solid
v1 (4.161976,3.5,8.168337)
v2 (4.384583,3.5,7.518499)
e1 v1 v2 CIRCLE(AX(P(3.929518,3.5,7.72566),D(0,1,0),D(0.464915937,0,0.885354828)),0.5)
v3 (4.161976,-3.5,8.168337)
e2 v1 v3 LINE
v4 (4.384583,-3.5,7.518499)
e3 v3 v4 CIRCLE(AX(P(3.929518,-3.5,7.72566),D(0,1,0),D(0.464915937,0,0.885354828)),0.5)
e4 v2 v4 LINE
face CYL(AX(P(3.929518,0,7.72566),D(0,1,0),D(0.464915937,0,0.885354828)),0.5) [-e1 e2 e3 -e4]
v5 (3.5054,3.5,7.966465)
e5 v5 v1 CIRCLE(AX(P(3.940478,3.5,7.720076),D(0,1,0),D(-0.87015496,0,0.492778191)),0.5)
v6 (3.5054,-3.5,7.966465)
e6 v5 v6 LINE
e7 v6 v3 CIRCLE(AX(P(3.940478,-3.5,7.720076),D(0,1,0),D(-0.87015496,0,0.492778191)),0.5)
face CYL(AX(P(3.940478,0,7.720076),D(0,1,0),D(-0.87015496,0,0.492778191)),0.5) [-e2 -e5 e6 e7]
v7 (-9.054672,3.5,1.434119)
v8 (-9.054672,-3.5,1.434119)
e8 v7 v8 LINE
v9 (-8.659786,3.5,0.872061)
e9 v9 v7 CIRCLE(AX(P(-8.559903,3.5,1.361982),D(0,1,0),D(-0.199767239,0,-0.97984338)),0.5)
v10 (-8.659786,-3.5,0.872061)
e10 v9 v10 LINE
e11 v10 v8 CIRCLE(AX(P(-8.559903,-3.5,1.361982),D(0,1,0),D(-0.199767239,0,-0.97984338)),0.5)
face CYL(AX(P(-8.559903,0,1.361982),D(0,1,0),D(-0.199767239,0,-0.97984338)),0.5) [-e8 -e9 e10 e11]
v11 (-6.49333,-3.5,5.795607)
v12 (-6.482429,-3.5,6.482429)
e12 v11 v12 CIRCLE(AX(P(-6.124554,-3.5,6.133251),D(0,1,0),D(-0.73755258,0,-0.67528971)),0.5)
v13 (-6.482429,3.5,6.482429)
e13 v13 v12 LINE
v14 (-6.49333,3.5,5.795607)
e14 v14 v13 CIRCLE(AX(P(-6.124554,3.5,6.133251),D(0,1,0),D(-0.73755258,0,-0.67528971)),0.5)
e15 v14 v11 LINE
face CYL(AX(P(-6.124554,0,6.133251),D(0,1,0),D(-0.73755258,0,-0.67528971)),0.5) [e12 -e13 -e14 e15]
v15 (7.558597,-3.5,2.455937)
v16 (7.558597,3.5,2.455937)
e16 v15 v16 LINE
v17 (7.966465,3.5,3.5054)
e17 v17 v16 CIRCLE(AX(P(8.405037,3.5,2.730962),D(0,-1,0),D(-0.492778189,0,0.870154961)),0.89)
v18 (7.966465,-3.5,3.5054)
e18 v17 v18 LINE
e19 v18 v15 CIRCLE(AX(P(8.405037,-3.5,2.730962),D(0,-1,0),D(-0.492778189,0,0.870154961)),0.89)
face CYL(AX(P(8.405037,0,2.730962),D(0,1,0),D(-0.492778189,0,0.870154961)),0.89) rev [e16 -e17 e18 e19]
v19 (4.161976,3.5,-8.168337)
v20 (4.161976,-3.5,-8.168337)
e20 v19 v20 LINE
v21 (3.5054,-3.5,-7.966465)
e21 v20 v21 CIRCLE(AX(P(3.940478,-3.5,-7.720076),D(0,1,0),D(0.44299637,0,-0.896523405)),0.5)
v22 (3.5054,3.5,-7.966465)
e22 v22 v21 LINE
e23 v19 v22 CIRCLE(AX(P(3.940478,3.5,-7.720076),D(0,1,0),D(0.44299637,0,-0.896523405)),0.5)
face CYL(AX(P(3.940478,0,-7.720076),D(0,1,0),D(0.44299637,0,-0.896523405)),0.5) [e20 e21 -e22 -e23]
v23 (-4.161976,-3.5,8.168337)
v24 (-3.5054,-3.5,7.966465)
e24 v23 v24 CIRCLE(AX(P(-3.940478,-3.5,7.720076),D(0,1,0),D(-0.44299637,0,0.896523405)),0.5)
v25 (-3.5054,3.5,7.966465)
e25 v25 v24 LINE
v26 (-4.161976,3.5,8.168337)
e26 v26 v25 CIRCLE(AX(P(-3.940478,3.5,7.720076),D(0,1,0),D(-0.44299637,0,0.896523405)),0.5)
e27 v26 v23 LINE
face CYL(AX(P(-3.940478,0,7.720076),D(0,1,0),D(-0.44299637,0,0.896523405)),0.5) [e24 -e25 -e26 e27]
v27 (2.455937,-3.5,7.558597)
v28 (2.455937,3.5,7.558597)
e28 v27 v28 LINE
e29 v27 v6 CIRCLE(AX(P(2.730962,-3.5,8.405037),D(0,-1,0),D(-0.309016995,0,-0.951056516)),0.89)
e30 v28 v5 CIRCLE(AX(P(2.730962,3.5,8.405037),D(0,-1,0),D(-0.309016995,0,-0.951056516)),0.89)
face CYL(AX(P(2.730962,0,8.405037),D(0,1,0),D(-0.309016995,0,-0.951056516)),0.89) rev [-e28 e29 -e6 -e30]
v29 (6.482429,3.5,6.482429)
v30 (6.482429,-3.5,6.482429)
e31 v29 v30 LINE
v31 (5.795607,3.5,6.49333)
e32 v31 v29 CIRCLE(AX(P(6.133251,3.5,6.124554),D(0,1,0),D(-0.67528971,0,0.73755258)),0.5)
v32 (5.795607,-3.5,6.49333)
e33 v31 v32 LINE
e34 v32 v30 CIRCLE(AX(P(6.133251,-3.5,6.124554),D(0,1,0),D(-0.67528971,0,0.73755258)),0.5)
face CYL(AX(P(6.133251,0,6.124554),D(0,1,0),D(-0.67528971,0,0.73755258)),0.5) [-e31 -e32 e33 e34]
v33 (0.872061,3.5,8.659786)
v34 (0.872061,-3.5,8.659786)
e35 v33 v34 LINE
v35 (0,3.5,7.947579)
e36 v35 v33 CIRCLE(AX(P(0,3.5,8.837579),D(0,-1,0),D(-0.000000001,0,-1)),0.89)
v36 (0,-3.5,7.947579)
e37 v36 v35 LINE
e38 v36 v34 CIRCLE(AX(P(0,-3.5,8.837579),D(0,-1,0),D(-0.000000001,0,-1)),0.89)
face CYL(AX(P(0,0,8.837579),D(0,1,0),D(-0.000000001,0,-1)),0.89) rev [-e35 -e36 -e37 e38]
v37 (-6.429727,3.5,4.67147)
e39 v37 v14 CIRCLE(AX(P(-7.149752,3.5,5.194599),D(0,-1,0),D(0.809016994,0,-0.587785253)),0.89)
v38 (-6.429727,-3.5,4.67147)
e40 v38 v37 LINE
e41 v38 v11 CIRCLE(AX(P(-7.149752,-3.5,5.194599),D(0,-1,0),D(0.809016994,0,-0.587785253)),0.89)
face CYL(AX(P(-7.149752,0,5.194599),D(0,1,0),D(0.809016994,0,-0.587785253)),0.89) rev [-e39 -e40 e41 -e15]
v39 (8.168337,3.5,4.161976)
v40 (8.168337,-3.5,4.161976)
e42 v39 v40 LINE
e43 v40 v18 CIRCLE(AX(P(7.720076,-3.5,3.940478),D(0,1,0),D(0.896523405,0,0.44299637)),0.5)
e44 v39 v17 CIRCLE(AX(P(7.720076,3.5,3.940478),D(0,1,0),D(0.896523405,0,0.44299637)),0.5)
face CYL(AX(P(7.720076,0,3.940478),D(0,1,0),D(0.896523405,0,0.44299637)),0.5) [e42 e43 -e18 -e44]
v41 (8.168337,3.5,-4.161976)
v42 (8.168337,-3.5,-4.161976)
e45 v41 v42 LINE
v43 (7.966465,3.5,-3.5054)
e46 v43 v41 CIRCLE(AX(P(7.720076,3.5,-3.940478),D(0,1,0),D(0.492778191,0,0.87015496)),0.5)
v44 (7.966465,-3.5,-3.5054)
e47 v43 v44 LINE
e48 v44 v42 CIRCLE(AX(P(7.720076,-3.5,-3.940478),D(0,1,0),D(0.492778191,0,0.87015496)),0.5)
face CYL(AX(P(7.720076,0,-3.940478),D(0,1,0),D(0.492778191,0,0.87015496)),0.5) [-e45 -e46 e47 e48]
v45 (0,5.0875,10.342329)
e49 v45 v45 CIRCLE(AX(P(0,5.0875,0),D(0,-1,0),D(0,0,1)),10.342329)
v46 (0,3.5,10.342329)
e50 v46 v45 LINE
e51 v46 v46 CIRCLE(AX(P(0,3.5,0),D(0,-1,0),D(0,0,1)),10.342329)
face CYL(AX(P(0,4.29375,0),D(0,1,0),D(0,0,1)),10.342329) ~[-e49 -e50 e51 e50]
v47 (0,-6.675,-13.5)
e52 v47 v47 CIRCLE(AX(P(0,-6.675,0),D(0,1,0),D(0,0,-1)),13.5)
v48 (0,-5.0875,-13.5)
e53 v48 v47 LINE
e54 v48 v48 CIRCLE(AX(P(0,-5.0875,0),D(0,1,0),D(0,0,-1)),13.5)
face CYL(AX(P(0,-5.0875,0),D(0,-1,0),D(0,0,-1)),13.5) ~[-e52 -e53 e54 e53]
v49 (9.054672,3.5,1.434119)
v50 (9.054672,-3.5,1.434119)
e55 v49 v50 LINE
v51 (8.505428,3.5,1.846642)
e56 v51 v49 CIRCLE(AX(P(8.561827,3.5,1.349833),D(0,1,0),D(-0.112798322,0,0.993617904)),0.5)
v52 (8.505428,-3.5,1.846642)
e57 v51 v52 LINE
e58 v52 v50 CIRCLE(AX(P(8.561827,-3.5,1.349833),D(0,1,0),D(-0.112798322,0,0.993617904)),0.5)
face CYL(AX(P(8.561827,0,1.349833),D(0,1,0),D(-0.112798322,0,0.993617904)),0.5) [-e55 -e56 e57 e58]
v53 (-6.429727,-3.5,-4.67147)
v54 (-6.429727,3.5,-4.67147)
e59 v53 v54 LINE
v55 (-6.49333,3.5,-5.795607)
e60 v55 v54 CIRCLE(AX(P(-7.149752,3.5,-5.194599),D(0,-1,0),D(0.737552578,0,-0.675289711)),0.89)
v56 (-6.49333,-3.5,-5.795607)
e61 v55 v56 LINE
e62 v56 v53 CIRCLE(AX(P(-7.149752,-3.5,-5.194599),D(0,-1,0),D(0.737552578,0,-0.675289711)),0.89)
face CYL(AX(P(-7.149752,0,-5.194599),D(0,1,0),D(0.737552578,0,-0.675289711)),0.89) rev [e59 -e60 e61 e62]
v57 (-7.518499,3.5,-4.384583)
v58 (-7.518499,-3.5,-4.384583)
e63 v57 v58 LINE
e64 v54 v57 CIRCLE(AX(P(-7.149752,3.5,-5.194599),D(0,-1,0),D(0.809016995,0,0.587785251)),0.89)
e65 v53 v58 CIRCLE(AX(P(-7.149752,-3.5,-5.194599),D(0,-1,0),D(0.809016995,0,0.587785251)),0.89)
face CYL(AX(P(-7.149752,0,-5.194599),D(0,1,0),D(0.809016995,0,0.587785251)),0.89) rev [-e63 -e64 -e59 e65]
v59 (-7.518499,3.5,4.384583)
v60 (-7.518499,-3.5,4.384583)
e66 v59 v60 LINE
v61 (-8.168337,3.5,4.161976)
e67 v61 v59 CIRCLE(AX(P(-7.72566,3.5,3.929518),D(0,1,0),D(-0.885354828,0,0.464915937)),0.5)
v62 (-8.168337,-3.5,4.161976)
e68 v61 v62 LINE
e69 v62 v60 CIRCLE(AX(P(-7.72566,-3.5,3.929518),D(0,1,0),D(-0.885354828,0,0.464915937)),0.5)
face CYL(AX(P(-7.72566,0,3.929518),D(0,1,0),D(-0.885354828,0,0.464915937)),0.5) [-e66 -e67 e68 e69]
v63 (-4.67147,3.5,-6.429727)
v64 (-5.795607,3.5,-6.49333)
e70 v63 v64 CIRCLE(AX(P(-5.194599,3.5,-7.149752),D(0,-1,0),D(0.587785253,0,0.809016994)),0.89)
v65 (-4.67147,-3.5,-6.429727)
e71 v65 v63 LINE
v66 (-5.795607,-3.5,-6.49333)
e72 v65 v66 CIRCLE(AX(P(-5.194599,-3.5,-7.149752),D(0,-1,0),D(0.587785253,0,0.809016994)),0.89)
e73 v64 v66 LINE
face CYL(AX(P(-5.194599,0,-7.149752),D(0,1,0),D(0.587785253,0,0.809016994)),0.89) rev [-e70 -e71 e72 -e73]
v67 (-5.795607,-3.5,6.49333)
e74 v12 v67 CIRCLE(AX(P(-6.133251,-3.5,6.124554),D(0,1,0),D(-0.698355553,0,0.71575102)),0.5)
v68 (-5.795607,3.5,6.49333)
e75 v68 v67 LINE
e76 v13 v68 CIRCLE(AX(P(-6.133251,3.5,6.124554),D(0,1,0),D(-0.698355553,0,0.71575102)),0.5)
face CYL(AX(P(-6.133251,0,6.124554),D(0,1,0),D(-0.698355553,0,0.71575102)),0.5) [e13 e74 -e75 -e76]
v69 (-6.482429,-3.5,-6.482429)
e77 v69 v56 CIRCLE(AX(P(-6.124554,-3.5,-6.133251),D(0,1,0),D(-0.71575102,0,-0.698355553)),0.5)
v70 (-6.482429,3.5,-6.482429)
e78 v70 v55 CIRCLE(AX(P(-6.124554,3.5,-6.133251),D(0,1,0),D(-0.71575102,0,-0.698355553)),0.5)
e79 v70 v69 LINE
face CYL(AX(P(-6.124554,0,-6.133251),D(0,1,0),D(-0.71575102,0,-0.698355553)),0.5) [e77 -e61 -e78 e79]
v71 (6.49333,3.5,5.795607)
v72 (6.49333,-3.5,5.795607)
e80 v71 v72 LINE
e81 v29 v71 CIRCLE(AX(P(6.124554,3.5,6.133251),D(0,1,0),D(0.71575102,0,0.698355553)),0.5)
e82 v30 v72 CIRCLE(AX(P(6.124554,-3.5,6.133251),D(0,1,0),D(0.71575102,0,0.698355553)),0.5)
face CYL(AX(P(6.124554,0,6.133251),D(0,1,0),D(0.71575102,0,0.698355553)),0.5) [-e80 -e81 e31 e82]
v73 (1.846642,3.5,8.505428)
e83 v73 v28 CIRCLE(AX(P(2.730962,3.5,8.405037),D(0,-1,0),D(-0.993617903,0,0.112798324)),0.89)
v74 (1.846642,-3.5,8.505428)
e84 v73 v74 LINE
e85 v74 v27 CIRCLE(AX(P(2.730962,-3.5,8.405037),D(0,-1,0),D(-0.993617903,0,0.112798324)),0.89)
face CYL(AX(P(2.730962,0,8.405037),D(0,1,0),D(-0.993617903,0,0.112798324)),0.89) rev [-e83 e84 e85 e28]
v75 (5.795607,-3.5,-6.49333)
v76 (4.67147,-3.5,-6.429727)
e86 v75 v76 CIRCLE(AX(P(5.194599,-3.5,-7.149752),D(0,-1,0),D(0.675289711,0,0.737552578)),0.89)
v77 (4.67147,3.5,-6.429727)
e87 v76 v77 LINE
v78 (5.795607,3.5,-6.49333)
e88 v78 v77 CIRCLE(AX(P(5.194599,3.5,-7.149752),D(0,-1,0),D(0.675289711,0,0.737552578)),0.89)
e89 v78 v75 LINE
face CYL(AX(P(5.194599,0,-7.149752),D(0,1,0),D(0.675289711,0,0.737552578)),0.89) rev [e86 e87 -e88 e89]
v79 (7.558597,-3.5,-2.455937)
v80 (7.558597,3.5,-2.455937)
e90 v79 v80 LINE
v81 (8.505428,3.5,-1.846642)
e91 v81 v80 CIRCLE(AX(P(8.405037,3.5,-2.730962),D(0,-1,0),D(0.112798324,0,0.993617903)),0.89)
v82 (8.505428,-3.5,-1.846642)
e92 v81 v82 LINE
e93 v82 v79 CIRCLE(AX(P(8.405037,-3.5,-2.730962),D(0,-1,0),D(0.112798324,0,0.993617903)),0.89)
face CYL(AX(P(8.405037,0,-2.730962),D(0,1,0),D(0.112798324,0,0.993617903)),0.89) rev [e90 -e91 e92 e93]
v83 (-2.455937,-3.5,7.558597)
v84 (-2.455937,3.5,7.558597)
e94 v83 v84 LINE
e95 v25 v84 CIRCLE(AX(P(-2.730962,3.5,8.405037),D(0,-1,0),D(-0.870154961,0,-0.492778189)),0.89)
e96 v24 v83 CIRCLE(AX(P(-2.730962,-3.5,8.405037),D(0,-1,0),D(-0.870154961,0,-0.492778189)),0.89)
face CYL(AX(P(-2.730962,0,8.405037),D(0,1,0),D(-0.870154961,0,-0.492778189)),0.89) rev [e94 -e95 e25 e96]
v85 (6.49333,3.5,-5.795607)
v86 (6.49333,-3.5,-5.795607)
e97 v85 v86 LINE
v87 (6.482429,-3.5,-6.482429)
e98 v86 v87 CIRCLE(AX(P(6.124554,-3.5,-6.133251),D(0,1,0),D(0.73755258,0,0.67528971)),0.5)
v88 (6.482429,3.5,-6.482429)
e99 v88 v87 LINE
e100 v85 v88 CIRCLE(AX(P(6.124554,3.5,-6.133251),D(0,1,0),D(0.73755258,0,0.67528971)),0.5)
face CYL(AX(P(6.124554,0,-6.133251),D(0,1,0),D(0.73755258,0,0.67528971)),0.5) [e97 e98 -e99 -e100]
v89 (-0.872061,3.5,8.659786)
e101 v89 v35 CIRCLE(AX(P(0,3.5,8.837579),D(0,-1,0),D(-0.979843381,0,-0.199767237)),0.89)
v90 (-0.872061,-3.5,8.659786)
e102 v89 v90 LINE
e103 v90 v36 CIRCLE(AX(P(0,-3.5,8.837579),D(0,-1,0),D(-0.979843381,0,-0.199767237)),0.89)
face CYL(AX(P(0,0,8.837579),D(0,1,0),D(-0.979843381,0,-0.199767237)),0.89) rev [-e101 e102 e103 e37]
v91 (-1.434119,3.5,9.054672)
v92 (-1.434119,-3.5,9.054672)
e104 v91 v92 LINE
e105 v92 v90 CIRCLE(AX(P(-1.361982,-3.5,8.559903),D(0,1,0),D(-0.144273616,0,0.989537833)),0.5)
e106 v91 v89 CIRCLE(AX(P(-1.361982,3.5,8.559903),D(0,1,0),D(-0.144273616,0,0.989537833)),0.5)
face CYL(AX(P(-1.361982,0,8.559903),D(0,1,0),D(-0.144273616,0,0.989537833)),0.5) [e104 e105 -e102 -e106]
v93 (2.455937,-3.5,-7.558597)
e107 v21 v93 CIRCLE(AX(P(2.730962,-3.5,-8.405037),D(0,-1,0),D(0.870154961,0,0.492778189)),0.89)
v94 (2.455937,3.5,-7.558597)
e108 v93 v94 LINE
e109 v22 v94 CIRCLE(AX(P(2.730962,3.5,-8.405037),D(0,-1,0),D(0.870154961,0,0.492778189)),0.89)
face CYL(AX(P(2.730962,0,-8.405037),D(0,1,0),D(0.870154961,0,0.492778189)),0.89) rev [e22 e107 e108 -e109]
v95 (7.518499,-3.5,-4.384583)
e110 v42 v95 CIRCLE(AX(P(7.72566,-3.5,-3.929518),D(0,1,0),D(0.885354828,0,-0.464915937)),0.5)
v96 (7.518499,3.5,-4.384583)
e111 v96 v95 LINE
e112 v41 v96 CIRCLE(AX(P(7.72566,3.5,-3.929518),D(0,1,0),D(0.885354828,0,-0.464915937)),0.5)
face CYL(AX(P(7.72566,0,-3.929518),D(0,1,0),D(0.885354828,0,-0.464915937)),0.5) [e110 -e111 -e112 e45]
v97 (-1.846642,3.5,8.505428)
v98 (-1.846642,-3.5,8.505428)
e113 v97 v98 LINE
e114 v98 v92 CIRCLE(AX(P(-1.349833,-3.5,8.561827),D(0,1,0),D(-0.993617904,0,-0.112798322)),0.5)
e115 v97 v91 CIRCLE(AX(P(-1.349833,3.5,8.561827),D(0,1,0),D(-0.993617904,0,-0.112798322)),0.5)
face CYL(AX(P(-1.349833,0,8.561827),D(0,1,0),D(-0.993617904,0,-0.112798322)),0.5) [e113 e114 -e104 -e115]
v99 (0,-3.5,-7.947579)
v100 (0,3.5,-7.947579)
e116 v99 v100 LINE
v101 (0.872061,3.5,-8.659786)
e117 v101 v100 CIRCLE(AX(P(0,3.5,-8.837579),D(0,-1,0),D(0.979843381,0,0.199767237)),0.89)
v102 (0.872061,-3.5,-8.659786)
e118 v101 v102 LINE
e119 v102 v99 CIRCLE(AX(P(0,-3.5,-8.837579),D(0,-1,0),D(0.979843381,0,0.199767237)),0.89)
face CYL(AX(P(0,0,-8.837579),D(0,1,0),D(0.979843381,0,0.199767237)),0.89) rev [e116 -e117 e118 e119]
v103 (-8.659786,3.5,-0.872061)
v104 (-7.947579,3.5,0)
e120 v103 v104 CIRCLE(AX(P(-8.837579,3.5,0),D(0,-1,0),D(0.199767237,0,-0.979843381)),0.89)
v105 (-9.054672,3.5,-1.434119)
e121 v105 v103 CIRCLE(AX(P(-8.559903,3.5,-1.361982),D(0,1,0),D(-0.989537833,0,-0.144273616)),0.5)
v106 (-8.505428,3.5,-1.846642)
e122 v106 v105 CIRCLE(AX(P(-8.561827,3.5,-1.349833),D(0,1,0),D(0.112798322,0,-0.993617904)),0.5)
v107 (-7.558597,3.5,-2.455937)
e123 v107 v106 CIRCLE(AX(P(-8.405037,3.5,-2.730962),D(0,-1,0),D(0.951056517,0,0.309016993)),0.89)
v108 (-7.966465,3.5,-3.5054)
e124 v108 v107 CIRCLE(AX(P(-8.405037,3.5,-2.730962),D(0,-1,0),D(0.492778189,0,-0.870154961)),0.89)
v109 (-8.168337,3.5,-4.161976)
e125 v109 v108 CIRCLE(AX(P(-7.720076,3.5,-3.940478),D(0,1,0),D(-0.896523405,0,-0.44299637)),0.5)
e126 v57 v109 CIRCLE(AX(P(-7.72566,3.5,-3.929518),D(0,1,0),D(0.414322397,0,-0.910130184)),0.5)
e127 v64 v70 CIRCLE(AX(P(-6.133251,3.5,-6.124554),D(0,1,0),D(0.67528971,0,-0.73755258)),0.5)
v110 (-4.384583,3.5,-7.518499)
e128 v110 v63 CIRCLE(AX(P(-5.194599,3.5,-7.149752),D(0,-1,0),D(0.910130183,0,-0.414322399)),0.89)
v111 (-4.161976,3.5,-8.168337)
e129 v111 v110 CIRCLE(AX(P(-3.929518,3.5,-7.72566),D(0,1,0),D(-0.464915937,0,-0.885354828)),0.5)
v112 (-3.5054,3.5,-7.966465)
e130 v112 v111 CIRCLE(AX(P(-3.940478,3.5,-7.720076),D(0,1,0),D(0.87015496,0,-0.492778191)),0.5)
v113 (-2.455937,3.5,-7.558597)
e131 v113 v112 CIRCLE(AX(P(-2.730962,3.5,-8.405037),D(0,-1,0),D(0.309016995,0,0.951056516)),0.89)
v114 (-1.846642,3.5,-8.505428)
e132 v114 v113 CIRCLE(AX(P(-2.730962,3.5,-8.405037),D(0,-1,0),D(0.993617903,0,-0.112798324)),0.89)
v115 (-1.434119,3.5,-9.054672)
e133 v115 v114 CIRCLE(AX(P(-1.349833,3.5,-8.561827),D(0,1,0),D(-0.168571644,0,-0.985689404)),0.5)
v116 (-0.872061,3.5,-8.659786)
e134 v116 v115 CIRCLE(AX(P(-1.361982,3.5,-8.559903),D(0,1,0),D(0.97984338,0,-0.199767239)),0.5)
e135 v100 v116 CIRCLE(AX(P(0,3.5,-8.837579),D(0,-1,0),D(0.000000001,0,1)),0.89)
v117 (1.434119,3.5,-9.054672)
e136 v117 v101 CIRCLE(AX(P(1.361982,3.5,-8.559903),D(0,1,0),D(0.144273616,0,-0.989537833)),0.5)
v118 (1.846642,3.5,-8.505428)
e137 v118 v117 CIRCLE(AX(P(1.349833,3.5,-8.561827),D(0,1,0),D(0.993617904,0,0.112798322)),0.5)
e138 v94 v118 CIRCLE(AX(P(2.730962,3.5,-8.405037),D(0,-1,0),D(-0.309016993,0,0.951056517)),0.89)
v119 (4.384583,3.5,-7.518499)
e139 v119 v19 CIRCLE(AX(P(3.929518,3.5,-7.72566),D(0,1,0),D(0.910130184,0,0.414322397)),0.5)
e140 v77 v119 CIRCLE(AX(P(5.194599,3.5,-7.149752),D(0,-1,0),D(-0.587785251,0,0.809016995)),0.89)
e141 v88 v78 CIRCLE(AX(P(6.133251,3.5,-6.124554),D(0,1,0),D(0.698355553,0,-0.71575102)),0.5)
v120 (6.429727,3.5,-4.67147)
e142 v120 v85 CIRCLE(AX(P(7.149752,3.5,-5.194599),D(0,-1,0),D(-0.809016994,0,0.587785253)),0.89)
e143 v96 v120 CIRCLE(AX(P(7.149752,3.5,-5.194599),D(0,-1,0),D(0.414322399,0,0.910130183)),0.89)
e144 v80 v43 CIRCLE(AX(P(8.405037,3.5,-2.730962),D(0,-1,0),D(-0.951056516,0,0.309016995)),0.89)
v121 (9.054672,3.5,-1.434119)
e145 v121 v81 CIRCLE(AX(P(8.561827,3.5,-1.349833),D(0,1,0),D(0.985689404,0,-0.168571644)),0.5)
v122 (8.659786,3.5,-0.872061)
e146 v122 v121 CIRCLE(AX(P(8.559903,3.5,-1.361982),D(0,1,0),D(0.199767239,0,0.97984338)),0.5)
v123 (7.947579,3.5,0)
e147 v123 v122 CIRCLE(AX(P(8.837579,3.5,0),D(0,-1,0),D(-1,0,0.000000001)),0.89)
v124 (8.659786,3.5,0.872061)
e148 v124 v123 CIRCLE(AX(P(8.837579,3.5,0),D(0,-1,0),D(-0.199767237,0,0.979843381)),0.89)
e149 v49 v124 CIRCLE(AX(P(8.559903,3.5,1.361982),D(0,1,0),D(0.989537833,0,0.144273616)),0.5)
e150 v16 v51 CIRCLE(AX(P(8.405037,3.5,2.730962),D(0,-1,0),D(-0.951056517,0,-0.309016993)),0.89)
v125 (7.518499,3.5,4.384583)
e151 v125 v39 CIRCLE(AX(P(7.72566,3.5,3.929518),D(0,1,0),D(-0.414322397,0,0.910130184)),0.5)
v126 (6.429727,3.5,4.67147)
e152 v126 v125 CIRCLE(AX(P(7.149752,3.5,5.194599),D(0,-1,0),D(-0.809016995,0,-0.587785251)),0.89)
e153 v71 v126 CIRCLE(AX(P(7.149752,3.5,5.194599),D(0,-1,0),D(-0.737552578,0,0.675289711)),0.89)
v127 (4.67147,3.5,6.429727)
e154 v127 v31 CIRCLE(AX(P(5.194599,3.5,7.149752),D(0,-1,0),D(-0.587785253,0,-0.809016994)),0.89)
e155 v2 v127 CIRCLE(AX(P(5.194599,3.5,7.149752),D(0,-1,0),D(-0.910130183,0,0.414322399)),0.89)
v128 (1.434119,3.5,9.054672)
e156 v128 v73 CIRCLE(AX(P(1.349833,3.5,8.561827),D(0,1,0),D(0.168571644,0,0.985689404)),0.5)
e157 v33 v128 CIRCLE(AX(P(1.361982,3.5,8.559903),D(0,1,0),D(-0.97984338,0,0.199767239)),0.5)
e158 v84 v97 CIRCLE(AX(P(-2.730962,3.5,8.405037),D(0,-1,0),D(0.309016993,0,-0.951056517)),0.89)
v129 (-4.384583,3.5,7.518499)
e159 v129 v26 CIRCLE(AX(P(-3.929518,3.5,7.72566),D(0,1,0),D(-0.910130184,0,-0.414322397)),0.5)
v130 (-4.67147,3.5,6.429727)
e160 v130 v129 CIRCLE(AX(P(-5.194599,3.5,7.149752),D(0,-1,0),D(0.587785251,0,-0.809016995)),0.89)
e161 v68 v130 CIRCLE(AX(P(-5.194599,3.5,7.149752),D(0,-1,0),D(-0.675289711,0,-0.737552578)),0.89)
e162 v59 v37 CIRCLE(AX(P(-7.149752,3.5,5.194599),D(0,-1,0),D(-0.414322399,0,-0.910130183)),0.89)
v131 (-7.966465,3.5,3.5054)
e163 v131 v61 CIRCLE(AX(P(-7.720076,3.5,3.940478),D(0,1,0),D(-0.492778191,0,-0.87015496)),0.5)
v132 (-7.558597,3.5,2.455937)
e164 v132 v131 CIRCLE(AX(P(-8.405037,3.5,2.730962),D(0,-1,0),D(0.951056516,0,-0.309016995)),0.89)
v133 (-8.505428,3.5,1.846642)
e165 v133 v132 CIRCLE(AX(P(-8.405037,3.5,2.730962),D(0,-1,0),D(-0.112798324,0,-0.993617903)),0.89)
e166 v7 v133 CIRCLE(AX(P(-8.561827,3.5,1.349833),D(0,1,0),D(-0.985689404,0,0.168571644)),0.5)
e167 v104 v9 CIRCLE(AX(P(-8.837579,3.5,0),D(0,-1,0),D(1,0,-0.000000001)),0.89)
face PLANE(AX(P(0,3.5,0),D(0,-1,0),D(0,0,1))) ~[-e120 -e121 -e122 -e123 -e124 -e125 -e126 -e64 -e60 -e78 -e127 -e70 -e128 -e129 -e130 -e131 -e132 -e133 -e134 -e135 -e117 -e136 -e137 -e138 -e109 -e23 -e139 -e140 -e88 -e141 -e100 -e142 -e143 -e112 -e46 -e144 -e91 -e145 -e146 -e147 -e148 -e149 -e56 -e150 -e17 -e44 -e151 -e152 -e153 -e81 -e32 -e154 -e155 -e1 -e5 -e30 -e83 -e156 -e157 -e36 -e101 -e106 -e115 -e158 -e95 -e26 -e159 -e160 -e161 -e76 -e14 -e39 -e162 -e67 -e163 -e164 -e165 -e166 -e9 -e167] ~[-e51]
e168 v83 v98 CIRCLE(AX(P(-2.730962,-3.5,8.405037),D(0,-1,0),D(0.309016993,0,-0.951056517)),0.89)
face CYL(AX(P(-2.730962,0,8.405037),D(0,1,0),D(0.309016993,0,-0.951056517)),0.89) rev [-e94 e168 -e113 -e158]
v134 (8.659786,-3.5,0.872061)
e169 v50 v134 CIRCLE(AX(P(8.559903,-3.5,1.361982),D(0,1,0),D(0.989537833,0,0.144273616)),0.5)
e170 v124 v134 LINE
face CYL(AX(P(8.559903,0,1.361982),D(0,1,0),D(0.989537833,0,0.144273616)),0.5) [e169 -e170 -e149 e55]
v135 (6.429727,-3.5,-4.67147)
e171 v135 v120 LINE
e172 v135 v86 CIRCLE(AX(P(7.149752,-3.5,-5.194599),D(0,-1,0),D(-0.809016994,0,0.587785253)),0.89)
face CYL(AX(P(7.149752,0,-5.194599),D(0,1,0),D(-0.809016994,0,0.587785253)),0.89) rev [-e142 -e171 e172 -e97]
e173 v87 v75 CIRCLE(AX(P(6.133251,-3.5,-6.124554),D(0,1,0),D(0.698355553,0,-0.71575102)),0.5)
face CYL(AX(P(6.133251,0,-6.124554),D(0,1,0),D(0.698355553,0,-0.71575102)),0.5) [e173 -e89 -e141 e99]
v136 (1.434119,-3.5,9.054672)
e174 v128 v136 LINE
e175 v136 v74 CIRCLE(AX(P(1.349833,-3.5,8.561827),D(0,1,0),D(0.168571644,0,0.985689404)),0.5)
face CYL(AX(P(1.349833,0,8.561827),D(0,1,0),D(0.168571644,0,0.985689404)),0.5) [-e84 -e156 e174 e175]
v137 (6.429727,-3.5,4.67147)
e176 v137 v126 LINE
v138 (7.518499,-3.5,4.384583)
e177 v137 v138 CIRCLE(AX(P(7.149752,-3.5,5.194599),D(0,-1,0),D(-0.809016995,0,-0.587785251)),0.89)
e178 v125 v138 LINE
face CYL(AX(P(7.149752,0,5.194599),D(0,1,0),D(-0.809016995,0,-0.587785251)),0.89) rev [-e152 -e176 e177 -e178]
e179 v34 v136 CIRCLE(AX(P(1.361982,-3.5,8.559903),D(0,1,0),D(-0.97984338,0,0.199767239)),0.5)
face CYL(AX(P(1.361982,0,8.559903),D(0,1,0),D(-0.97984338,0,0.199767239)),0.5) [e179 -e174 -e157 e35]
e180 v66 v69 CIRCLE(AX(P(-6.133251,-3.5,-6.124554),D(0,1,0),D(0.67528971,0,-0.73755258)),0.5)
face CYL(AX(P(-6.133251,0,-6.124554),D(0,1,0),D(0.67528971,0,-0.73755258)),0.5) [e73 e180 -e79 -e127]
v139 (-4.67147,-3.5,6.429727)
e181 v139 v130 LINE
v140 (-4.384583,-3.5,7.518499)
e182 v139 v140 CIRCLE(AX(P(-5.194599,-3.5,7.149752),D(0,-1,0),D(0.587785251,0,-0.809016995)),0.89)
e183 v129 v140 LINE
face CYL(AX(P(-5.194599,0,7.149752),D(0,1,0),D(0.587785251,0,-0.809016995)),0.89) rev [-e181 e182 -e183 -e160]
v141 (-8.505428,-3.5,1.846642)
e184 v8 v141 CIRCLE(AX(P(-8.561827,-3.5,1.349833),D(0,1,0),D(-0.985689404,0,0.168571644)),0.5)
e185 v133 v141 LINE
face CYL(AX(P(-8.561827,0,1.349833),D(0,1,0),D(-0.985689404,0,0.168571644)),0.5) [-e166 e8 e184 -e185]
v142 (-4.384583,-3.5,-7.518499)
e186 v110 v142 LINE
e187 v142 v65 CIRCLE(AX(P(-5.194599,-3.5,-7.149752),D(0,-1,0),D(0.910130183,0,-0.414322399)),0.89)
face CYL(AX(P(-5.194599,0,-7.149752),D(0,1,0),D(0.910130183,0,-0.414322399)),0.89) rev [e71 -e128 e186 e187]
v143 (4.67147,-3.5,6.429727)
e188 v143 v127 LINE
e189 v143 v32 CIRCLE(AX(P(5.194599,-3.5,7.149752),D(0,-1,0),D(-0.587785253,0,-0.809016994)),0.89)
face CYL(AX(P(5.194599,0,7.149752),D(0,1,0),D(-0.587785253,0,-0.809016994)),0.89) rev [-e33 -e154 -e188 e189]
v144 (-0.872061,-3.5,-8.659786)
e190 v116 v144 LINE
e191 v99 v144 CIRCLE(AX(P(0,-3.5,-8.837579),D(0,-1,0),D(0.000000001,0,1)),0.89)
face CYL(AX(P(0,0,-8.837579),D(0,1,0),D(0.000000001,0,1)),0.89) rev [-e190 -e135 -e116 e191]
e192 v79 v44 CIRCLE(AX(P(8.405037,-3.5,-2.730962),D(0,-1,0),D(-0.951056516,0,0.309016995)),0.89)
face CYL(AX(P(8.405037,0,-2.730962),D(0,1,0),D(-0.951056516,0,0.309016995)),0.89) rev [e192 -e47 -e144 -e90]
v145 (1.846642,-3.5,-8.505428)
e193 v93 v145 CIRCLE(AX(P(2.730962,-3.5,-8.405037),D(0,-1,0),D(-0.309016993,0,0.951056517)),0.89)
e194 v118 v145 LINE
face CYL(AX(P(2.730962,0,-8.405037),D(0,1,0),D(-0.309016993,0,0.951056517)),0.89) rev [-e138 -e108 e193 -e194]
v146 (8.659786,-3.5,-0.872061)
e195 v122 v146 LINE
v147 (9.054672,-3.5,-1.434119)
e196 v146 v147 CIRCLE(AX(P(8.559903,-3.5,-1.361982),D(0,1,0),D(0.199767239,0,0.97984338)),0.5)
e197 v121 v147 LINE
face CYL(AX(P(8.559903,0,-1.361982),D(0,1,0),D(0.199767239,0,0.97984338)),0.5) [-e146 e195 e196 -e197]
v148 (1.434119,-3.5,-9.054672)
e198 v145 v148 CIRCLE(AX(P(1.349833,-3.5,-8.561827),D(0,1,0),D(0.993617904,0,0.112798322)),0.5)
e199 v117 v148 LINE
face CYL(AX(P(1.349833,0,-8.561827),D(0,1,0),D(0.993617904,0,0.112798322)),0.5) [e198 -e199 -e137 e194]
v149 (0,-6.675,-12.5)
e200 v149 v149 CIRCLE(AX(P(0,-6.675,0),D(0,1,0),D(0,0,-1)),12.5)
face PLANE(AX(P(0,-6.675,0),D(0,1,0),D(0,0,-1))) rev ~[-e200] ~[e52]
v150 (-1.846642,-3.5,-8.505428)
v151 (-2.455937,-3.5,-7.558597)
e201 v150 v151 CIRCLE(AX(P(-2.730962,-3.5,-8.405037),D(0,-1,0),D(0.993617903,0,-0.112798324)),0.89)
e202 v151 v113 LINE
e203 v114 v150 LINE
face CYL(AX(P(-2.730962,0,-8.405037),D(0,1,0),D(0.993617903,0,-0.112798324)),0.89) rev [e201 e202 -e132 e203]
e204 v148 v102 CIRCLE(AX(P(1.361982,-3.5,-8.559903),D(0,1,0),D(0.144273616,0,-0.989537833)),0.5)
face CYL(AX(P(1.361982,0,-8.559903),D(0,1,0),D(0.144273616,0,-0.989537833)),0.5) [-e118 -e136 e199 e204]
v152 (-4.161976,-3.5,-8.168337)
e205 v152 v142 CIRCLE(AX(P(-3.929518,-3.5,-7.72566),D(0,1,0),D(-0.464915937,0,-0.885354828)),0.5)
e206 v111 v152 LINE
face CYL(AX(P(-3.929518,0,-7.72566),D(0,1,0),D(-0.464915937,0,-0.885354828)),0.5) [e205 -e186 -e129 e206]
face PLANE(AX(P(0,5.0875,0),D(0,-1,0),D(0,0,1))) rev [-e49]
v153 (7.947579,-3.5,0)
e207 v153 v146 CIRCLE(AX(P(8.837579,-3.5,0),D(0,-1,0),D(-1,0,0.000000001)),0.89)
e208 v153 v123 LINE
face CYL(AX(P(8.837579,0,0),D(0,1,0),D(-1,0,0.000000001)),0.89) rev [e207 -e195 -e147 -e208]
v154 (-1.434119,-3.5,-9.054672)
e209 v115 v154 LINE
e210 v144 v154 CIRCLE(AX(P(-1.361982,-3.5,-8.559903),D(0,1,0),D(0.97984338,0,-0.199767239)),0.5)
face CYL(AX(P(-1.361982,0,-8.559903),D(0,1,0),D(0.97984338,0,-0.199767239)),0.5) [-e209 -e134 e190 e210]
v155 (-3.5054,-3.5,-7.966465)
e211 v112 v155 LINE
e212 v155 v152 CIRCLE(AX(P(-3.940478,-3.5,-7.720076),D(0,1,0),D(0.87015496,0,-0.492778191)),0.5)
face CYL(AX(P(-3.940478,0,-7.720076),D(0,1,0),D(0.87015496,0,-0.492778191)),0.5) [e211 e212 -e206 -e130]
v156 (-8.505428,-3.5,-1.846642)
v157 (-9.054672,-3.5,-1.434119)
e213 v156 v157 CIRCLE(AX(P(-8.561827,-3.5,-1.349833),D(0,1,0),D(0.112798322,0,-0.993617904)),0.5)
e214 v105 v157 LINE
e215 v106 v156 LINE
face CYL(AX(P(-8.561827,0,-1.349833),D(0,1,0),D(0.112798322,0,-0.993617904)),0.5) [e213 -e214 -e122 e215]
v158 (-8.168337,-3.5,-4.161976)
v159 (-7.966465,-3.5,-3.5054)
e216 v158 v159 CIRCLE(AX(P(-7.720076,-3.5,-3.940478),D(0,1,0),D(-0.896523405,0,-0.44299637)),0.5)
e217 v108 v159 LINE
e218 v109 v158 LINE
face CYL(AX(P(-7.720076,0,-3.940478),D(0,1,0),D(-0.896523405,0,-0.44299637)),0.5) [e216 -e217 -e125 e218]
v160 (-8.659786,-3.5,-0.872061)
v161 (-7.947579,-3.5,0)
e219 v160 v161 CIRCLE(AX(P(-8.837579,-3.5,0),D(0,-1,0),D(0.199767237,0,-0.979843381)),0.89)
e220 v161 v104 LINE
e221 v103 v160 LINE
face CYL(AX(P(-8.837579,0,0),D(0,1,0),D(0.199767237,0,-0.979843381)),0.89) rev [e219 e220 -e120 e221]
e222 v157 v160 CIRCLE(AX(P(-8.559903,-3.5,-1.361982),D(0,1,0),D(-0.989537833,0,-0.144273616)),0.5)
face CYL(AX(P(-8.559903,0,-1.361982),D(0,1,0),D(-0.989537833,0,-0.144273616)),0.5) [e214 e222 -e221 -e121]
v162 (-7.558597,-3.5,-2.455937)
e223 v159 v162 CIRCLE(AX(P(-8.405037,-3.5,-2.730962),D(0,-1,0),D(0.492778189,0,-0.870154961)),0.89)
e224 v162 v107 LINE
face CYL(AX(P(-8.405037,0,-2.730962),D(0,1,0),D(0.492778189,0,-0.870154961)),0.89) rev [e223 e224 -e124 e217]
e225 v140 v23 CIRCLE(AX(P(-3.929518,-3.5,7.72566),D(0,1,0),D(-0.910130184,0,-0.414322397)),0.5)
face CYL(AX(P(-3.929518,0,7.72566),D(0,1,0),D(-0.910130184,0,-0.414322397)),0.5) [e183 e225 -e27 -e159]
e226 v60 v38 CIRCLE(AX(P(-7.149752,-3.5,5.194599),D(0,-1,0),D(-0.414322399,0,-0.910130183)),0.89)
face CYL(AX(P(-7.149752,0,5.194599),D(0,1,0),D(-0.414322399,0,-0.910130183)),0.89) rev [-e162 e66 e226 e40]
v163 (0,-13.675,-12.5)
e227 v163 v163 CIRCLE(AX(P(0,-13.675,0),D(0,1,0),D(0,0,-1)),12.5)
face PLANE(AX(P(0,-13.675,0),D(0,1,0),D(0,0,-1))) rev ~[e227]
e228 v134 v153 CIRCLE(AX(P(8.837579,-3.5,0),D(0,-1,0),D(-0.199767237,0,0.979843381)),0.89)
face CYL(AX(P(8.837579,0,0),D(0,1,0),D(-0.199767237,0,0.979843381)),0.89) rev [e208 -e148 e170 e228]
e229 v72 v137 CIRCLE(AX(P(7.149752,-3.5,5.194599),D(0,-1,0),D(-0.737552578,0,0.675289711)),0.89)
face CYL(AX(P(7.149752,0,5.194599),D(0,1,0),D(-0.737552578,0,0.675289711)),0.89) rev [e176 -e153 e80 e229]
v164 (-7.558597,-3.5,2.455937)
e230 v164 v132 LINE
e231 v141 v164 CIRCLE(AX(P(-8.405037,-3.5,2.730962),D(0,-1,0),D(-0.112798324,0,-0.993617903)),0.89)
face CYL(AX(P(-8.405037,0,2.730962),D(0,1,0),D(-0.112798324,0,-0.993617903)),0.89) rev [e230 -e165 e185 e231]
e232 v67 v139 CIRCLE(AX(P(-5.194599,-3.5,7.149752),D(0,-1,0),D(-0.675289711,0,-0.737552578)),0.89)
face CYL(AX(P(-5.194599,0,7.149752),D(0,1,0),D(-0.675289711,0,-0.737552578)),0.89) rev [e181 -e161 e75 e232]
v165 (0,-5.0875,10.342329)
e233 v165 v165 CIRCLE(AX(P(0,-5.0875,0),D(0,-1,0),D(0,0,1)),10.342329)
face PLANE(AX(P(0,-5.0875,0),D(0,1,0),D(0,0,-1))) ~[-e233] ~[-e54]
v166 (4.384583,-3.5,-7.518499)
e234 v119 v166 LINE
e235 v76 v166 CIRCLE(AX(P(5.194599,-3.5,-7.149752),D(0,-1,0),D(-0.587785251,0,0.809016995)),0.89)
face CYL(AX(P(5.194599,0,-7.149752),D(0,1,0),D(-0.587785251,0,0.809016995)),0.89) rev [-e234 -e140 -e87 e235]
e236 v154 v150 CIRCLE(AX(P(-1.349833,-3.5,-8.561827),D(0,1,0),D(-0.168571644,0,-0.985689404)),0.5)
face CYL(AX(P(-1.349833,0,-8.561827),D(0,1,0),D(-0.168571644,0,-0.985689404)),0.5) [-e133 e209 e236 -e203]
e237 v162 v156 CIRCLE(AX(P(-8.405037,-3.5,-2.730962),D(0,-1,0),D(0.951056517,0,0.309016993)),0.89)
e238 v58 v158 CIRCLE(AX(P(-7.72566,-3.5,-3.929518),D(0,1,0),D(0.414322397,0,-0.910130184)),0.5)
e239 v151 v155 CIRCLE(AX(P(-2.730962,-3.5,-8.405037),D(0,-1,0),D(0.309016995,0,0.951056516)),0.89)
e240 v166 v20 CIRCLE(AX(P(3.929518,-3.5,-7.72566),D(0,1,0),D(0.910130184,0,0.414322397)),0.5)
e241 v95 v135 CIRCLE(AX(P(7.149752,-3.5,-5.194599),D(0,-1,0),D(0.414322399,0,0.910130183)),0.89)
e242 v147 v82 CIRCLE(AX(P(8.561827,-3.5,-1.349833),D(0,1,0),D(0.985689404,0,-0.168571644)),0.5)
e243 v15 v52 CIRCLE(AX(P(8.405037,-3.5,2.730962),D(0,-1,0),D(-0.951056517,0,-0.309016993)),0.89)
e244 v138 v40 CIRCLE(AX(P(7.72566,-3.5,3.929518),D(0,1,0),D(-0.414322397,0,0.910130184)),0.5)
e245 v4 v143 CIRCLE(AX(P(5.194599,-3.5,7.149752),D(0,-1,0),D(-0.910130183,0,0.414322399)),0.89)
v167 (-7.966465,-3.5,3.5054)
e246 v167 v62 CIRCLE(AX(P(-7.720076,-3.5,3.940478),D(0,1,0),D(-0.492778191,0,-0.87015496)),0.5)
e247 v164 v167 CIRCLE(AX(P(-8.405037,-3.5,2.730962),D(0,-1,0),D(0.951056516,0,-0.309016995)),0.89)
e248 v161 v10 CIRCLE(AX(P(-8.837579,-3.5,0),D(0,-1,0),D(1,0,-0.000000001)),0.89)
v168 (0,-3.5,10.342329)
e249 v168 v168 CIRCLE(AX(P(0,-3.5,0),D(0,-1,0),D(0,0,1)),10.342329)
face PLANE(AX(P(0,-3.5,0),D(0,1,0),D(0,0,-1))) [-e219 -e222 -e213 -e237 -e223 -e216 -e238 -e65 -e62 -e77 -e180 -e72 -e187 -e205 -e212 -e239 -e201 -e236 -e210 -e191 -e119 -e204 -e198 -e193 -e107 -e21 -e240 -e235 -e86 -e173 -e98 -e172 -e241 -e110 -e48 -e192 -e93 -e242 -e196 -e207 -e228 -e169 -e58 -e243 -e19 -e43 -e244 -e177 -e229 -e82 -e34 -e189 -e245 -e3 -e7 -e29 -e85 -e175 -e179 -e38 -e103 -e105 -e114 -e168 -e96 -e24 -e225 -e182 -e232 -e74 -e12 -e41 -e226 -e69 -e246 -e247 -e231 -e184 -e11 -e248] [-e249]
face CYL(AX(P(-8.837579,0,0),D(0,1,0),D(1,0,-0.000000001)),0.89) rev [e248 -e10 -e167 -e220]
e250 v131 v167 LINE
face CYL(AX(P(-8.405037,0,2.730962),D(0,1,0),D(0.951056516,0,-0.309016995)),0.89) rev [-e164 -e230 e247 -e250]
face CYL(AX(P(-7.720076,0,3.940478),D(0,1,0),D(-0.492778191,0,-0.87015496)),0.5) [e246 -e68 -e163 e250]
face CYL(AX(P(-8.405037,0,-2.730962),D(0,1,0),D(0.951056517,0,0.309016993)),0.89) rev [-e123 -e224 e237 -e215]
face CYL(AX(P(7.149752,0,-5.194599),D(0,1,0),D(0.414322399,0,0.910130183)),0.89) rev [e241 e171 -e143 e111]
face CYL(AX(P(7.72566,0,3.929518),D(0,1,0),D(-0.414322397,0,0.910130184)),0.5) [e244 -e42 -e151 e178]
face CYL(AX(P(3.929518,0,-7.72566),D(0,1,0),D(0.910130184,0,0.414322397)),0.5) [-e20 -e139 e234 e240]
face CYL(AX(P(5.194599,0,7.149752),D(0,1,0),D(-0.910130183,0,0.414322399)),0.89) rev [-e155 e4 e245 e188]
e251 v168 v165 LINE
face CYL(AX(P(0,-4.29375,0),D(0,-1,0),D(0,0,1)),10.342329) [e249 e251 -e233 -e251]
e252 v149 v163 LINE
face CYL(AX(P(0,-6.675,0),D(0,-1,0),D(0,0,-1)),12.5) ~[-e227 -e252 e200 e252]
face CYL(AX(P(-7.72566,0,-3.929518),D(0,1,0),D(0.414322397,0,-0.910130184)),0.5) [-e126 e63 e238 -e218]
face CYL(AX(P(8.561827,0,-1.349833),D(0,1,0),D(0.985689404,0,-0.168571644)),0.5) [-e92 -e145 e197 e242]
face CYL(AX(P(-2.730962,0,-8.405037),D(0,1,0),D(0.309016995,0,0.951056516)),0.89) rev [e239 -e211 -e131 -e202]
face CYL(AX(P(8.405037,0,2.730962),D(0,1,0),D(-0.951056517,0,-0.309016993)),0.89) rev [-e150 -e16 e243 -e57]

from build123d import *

# Parameters (mm, degrees)
BOSS_EXTRUDE1_DEPTH = 3.499999985
CIRPATTERN1_COUNT   = 20
SKETCH2_W           = 10.342329408
SKETCH2_H           = 1.5875


with BuildPart() as part:
    # Sketch1 → Boss-Extrude1 (new, symmetric)
    with BuildSketch(Plane(origin=(0, 0, 0), x_dir=(1, 0, 0), z_dir=(0, 1, 0))):
        with BuildLine():
            ThreePointArc((0.872060607, 8.659786465), (0.562967303, 8.148255135), (0, 7.947579308))
            ThreePointArc((0, 7.947579308), (-1.243275317, -7.849731418), (2.45593707, 7.55859709))
            ThreePointArc((2.45593707, 7.55859709), (1.982535589, 7.923417607), (1.846642263, 8.505427895))
            ThreePointArc((1.846642263, 8.505427895), (1.749626992, 8.862101959), (1.434119122, 9.054671776))
            ThreePointArc((1.434119122, 9.054671776), (1.074545959, 8.969024291), (0.872060607, 8.659786465))
        make_face()
    boss_extrude1 = extrude(amount=BOSS_EXTRUDE1_DEPTH, both=True)

    # CirPattern1: Boss-Extrude1 ×20 about axis
    cirpattern1_axis = Axis((0, 0, 0), (0, 1, 0))
    for i in range(1, CIRPATTERN1_COUNT):
        add(boss_extrude1.rotate(cirpattern1_axis, i * 360 / CIRPATTERN1_COUNT))

    # Sketch2 → Revolve3 (revolve)
    with BuildSketch(Plane(origin=(0, 0, 0), x_dir=(0, 0, -1), z_dir=(1, 0, 0)), mode=Mode.PRIVATE) as revolve3_sk:
        with Locations((5.171164704, 4.293749985)):
            Rectangle(SKETCH2_W, SKETCH2_H)
    revolve3 = revolve(revolve3_sk.sketch.rotate(Axis((0, 3.3, 0), (0, -1, 0)), 180), axis=Axis((0, 3.3, 0), (0, -1, 0)))

    # Mirror1: Revolve3 across plane
    add(revolve3.mirror(Plane.ZX))

    # Sketch5 → Revolve4 (revolve)
    with BuildSketch(Plane.XY, mode=Mode.PRIVATE) as revolve4_sk:
        Polygon((0, -5.087499985), (13.500000032, -5.087499985), (13.500000032, -6.674999985), (12.5, -6.674999985), (12.5, -13.674999955), (0, -13.674999955), align=None)
    revolve(revolve4_sk.sketch.rotate(Axis((0, -13.674999955, 0), (0, 1, 0)), 90), axis=Axis((0, -13.674999955, 0), (0, 1, 0)))


solid = part.part
